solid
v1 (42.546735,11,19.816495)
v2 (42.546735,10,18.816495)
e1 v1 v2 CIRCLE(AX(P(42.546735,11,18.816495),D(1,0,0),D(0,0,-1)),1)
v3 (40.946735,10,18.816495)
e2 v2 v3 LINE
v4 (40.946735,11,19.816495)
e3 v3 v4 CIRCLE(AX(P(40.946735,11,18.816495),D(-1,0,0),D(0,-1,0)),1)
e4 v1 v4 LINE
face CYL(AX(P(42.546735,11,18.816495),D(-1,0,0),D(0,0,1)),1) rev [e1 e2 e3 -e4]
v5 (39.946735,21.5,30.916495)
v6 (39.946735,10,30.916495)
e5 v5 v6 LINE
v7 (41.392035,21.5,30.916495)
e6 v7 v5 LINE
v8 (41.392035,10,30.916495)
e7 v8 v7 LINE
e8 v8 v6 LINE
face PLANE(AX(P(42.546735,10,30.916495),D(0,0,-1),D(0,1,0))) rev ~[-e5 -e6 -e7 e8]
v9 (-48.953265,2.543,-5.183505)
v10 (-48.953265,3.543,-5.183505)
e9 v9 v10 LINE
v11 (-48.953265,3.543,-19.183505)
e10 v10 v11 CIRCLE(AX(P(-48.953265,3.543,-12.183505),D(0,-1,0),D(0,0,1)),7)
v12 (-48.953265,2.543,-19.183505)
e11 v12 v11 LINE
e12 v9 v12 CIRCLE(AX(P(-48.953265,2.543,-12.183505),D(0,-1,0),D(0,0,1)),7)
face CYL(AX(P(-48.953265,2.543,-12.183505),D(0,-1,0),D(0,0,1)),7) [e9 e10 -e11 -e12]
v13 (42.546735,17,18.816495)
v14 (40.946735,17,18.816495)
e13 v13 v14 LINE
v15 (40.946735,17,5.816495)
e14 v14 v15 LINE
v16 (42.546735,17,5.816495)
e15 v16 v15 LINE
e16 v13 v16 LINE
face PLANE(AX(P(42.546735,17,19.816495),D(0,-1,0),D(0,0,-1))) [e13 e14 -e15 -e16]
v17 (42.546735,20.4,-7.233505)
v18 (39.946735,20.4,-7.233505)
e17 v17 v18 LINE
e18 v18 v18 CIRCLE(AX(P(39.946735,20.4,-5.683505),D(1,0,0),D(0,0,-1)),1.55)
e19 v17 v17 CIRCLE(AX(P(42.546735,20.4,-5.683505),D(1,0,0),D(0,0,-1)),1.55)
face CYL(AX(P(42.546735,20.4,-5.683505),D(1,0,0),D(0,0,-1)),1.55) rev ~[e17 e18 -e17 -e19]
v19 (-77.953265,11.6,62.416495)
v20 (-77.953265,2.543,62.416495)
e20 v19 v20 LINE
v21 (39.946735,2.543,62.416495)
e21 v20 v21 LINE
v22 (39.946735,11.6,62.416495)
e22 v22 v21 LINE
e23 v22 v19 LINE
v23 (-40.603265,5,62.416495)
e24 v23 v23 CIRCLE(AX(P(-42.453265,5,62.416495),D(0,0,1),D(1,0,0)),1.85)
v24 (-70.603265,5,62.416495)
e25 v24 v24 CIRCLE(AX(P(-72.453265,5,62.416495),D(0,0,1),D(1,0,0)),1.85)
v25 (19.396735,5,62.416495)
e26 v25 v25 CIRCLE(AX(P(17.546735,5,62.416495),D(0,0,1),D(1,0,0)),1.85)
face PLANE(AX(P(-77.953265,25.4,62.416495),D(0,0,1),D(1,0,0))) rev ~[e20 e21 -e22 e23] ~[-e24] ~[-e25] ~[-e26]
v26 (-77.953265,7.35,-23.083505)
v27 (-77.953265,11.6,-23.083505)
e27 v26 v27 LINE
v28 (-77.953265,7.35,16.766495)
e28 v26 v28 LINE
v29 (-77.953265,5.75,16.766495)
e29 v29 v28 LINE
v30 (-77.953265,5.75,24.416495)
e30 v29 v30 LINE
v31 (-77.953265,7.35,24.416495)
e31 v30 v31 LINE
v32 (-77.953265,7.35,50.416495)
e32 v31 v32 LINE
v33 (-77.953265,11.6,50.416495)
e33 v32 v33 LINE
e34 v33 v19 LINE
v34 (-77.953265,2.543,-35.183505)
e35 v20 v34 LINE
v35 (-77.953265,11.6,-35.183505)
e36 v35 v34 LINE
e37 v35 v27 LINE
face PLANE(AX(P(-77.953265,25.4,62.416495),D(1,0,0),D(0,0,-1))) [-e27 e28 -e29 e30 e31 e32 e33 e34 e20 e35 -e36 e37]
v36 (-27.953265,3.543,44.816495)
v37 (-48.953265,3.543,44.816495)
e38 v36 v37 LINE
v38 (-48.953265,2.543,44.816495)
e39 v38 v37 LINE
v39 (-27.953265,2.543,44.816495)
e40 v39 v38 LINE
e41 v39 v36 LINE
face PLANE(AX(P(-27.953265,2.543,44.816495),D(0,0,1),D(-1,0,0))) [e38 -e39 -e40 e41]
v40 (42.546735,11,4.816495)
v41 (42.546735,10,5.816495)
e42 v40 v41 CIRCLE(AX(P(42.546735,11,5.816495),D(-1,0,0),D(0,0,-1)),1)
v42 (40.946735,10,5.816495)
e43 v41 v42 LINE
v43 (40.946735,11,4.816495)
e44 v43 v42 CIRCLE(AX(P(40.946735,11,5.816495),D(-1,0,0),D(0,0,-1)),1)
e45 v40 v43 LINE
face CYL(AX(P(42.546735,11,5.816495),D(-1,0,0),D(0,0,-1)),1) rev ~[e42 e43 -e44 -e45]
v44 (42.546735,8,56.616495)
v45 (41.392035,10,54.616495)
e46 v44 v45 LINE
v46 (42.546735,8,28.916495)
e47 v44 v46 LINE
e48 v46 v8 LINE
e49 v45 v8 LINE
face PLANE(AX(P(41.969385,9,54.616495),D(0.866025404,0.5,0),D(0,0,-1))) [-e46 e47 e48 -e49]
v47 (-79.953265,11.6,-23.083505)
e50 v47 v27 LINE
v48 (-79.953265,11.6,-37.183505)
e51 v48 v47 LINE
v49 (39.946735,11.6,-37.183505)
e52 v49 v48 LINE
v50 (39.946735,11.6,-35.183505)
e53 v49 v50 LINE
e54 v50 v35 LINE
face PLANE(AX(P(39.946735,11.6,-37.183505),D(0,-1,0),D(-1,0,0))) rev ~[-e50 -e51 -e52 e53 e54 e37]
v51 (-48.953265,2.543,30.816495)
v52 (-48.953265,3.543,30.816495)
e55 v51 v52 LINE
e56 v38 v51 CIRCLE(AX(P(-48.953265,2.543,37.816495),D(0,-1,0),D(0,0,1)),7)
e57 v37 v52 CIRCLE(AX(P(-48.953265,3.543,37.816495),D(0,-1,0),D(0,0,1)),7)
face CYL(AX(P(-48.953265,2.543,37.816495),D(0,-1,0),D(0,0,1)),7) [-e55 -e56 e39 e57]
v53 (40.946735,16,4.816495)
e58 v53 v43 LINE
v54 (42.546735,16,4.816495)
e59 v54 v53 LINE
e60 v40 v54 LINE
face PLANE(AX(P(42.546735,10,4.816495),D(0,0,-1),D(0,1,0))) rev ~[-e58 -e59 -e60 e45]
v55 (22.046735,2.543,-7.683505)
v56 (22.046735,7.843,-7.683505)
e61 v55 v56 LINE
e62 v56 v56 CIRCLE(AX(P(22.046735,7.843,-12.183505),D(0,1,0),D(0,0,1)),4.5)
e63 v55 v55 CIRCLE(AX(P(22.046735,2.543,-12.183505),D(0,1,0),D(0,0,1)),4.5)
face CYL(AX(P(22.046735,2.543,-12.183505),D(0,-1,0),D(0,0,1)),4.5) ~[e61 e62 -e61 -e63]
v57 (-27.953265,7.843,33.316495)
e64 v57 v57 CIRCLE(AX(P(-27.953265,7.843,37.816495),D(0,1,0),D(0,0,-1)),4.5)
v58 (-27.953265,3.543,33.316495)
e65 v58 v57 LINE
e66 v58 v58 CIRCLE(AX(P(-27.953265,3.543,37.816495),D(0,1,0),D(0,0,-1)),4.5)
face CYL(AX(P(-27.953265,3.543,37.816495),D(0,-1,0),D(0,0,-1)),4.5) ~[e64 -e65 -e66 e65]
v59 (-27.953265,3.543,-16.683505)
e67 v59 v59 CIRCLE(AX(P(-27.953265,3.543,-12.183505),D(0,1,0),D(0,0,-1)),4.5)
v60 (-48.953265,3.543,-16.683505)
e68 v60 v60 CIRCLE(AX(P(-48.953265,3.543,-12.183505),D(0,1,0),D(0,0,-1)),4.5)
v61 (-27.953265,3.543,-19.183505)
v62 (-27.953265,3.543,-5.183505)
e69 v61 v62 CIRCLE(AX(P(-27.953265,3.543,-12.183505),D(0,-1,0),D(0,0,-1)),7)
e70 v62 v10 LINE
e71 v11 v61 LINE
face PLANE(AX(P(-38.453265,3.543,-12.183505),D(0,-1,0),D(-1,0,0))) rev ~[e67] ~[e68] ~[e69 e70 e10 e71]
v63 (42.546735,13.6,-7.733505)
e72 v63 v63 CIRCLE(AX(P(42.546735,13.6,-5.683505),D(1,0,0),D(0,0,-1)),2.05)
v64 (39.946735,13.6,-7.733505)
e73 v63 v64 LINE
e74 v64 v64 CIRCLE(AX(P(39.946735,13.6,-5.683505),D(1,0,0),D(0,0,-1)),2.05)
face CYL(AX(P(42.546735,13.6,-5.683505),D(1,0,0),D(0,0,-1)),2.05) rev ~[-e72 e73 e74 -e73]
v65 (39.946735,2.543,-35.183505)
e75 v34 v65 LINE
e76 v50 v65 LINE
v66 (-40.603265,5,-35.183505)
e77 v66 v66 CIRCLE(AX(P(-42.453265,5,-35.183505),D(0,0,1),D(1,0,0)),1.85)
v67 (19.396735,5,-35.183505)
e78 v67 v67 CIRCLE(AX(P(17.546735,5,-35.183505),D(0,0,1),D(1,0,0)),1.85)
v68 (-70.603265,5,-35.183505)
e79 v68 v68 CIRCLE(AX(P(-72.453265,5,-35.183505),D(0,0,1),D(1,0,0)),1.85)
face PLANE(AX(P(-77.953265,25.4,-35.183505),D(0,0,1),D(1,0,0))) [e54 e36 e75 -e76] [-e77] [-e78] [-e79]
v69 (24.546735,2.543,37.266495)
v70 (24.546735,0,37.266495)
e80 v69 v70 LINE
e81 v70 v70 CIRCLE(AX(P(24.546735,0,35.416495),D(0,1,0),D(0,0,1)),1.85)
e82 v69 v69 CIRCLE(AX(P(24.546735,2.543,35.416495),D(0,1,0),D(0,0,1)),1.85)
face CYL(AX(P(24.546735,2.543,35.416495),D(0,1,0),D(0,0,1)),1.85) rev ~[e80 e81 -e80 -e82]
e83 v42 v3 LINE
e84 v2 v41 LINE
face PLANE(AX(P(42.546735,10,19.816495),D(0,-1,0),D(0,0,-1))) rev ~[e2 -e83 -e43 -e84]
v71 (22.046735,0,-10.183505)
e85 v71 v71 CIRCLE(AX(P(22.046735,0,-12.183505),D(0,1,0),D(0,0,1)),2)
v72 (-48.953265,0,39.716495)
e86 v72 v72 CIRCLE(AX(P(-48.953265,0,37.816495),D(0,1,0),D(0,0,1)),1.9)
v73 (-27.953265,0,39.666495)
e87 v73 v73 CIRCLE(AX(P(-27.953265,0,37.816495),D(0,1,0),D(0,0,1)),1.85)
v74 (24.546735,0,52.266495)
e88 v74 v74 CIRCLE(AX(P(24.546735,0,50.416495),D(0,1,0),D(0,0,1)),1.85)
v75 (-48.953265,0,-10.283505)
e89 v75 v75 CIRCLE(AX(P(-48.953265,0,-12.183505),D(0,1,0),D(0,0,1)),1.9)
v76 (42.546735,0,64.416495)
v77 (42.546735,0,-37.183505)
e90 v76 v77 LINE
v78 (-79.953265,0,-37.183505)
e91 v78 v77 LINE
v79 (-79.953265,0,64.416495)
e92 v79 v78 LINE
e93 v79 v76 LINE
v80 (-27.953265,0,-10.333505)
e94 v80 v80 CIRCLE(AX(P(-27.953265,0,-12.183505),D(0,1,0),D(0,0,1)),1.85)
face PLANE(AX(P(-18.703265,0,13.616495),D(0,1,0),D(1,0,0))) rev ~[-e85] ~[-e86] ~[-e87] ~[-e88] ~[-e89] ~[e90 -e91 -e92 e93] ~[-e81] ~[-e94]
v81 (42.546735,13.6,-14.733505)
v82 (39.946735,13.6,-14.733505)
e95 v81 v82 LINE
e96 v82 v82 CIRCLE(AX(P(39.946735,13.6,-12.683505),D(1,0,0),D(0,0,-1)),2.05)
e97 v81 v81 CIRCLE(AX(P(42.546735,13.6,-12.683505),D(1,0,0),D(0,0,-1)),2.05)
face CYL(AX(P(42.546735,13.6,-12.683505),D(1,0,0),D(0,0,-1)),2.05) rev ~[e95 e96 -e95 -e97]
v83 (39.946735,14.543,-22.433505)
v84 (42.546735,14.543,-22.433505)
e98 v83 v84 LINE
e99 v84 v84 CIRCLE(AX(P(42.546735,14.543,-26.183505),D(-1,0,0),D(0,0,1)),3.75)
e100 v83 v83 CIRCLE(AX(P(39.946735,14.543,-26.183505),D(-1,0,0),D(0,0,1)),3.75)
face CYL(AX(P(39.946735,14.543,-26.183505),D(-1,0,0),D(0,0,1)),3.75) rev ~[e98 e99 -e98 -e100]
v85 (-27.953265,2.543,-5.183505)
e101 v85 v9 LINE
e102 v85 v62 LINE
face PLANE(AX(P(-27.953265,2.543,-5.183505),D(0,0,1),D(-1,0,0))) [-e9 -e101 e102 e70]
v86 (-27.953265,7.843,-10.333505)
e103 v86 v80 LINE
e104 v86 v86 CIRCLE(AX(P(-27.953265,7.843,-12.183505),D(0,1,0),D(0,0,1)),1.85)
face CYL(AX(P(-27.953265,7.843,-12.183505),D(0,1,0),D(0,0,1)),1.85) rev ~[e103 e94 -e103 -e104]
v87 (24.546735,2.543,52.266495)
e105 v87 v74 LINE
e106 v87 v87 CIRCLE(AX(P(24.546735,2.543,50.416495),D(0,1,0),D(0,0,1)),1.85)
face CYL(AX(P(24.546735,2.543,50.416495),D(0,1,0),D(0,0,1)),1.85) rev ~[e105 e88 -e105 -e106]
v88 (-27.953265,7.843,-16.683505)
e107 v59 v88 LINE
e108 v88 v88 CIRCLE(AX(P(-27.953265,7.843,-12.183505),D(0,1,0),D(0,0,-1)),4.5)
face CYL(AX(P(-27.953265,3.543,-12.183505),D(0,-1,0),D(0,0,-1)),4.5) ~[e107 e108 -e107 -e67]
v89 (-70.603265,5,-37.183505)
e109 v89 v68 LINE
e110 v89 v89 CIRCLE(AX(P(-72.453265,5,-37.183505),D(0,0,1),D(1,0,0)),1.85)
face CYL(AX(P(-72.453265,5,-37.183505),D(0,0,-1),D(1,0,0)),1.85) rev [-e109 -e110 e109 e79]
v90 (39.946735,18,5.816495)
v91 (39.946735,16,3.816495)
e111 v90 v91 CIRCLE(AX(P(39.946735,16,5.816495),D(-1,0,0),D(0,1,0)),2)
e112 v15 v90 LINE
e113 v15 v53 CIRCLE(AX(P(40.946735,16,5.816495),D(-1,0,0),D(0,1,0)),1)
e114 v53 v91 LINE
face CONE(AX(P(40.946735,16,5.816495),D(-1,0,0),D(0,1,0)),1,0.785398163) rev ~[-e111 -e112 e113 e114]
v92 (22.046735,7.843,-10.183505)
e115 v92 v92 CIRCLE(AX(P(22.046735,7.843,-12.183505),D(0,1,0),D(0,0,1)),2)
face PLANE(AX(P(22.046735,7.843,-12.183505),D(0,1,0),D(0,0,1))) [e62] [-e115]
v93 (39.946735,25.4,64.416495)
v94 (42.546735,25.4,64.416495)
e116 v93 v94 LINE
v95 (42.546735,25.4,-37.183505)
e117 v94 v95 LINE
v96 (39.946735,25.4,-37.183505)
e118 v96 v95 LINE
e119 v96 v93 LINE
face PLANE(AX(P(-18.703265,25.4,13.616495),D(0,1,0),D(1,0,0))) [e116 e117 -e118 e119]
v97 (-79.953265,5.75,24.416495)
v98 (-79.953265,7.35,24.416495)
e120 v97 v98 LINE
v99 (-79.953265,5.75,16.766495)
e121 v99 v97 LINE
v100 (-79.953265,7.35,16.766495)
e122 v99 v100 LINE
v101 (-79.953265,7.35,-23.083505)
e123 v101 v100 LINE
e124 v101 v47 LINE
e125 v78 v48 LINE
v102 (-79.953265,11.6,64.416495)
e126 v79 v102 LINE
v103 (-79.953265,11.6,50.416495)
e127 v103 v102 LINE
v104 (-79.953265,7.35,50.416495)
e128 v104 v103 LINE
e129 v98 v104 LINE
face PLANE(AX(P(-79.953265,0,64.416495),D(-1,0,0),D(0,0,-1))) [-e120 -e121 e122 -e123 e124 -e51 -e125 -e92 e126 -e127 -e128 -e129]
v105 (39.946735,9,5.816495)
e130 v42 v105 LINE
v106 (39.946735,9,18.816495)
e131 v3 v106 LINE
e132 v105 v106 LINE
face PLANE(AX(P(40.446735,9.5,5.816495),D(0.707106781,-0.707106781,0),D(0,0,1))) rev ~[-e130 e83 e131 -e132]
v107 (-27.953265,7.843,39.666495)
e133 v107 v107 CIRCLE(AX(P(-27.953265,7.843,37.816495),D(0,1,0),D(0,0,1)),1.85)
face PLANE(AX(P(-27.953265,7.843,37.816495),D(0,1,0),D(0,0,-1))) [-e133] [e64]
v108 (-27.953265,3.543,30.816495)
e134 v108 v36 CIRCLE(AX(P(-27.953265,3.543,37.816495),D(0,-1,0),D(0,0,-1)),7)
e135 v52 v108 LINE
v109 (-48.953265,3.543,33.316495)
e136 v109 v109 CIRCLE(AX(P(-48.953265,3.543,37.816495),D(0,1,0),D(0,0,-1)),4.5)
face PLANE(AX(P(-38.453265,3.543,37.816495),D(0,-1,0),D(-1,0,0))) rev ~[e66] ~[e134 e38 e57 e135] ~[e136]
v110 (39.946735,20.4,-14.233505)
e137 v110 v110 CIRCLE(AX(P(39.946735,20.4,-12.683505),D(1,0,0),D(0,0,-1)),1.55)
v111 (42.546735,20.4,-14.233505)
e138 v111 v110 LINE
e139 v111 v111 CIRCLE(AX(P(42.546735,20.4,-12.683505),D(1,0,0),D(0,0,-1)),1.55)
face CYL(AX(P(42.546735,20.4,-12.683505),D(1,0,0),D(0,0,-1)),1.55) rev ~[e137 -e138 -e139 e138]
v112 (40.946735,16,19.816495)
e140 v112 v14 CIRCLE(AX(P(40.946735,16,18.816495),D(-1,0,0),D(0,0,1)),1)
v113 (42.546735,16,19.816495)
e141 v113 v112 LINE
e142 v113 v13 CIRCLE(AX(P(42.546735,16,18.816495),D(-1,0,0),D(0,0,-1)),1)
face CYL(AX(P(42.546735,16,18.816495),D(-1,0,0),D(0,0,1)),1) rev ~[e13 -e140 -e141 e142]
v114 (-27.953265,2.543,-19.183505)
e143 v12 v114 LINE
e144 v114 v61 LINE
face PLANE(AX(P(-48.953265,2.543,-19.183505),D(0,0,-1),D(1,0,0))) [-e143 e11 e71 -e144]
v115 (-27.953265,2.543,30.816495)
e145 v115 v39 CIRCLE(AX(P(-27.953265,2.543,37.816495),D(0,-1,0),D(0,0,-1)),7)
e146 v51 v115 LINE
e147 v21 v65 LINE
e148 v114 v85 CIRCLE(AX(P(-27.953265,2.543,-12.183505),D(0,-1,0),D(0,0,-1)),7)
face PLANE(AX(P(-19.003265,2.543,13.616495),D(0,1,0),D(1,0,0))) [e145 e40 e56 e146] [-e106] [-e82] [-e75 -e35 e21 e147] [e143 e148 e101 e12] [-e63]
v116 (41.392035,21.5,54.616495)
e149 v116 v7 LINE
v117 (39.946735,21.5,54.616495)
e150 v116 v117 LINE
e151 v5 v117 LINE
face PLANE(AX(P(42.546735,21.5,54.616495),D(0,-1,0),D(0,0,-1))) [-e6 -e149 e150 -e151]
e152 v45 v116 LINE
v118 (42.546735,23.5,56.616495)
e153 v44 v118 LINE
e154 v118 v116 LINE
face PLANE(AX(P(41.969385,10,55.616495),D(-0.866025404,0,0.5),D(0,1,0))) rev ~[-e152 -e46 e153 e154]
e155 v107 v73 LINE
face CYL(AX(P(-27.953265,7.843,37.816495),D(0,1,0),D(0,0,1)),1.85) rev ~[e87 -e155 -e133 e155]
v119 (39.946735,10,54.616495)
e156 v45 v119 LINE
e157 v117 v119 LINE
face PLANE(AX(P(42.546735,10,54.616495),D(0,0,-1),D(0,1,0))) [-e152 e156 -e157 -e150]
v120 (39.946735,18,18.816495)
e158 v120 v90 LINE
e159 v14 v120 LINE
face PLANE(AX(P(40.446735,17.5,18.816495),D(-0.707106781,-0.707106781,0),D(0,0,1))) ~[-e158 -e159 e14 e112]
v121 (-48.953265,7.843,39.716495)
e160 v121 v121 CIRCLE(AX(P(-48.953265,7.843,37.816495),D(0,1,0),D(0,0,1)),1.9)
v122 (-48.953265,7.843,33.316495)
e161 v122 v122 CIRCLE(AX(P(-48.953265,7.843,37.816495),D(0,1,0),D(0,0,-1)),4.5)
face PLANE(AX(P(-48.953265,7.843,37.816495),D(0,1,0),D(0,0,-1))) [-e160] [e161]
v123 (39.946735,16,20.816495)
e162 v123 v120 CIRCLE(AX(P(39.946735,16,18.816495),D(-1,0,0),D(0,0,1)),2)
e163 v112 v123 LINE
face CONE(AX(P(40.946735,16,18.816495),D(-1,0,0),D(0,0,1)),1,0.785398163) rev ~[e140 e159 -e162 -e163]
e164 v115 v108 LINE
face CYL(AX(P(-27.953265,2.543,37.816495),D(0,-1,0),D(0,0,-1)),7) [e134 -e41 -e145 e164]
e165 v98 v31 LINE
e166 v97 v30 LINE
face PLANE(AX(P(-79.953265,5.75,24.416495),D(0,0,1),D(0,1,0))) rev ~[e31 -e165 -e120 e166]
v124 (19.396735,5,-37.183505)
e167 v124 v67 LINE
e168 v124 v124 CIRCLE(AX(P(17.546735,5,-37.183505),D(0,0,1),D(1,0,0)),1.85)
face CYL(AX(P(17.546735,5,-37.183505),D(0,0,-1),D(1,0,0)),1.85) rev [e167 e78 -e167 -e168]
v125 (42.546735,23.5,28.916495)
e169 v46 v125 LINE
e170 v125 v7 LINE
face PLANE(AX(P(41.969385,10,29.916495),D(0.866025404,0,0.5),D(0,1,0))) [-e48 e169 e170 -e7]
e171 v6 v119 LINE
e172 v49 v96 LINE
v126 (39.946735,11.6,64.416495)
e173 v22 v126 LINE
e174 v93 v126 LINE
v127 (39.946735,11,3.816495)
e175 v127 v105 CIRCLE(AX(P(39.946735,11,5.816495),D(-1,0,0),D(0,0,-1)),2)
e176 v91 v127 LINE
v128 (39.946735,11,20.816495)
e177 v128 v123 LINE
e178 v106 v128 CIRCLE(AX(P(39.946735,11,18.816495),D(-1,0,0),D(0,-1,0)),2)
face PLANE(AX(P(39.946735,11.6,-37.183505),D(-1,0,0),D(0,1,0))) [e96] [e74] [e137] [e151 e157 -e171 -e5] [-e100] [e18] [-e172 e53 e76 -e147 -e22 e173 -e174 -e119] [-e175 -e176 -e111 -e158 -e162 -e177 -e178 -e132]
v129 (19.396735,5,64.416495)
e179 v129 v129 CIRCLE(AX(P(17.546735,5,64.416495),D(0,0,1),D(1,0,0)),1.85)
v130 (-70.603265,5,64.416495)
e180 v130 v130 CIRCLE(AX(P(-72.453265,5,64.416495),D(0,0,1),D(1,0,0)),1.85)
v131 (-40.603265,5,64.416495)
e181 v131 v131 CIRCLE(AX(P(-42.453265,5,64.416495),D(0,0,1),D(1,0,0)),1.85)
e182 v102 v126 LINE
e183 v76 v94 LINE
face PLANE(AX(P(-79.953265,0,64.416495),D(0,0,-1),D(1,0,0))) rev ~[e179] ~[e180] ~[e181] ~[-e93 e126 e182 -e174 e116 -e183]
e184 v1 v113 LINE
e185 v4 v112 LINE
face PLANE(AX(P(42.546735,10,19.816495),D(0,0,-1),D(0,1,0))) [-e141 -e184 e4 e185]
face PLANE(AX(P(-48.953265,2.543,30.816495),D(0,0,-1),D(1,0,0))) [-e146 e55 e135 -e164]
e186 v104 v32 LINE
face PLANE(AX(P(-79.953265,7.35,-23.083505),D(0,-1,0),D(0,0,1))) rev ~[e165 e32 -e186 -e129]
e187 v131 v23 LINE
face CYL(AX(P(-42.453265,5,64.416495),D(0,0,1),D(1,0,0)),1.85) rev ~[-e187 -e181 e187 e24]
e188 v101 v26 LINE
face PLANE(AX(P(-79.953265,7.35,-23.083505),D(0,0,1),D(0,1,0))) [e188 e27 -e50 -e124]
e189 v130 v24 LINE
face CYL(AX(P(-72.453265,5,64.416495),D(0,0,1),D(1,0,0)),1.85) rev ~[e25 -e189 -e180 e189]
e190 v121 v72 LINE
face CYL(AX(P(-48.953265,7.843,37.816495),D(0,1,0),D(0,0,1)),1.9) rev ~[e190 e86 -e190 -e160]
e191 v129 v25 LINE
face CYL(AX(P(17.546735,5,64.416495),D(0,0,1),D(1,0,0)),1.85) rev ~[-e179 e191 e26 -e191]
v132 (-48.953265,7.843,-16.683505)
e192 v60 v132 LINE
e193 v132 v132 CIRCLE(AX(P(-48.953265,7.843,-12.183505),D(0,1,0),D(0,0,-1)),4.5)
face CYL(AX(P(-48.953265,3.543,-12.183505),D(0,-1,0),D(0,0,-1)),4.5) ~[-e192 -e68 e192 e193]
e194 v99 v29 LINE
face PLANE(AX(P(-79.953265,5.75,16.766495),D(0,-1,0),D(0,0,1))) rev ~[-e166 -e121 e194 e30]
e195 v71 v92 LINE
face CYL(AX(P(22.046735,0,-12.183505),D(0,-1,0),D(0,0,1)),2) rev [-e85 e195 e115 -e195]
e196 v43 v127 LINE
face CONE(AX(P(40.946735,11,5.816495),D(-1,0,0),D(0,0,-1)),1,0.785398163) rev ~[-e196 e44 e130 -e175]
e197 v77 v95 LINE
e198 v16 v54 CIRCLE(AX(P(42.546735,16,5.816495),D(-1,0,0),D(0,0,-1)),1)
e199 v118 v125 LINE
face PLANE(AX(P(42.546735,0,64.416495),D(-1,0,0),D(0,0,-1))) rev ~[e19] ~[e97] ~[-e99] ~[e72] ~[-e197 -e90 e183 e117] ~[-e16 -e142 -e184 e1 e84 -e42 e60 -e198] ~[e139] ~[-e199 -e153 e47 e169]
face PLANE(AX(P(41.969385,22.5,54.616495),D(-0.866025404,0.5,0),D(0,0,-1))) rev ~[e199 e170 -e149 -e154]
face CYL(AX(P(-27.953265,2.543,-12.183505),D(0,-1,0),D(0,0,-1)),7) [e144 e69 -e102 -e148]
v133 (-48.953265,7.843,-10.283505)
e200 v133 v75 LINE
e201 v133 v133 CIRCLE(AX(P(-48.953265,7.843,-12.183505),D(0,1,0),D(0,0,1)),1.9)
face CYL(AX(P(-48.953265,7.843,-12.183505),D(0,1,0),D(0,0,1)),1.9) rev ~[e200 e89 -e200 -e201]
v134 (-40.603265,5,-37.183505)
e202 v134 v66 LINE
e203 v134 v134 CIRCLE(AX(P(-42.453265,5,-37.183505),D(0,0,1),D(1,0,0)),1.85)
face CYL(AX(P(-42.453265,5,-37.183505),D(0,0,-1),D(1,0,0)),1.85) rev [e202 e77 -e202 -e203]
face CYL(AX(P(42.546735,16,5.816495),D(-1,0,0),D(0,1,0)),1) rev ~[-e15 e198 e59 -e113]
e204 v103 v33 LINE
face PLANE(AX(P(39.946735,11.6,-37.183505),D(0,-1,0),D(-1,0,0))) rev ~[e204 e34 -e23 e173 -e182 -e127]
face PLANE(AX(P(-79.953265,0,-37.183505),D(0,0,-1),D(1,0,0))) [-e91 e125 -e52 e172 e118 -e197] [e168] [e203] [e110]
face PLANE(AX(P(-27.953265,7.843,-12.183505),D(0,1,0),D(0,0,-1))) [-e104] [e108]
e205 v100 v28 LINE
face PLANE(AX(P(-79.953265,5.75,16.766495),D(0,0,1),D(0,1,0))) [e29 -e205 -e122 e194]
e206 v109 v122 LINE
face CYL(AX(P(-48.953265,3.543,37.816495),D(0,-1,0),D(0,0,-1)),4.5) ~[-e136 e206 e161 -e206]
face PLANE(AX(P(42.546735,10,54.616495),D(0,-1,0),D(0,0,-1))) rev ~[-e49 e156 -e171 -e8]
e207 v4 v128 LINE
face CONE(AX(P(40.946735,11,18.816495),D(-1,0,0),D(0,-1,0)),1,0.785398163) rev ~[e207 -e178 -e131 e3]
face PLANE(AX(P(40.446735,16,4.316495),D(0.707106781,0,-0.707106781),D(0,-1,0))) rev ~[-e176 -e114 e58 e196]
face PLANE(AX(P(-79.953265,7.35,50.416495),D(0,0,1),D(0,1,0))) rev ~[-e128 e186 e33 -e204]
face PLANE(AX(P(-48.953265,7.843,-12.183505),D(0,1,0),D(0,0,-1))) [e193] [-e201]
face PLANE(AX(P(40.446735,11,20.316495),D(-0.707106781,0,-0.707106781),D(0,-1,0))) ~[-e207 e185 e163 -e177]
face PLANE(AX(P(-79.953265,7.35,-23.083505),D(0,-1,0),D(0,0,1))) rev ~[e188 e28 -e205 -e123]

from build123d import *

# Parameters (mm, degrees)
SKETCH_1_W             = 122.5
SKETCH_1_H             = 101.6
EXTRUDE_1_DEPTH        = 25.4
SKETCH_2_W             = 117.9
SKETCH_2_H             = 97.6
CUT_EXTRUDE_1_DEPTH    = 22.857
CUT_EXTRUDE_2_REACH    = 133.758
SKETCH_5_W             = 119.9
SKETCH_5_H             = 13.8
CUT_EXTRUDE_3_REACH    = 142.716
SKETCH_6_W             = 73.5
SKETCH_6_H             = 4.25
CUT_EXTRUDE_4_REACH    = 142.716
SKETCH_7_W             = 7.65
SKETCH_7_H             = 1.6
CUT_EXTRUDE_5_REACH    = 133.758
SKETCH_8_R             = 1.85
EXTRUDE_2_DEPTH        = 1
SKETCH_11_R            = 4.5
EXTRUDE_3_DEPTH        = 4.3
CUT_EXTRUDE_6_REACH    = 106.165
SKETCH_13_R            = 1.85
SKETCH_14_R            = 4.5
SKETCH_14_R_2          = 2
EXTRUDE_5_DEPTH        = 5.3
SKETCH_15_R            = 1.55
SKETCH_15_R_2          = 2.05
CUT_EXTRUDE_7_DEPTH    = 5.3
SKETCH_16_W            = 15
SKETCH_16_H            = 7
CUT_EXTRUDE_8_DEPTH    = 5.3
FILLET_1_R             = 1
SKETCH_17_W            = 23.7
SKETCH_17_H            = 11.5
CUT_EXTRUDE_9_DEPTH    = 5.3
CHAMFER_2_SIZE         = 2
CHAMFER_2_SIZE2        = 1.154700538
SKETCH_12_R            = 1.9
CUT_EXTRUDE_10_DEPTH   = 7.843
CUT_EXTRUDE_START      = -2.543
SKETCH_18_R            = 2
CUT_EXTRUDE_11_DEPTH   = 2.543
SKETCH_19_R            = 3.75
CUT_EXTRUDE_12_DEPTH   = 10
PATTERN_LINEAR_1_COUNT = 2
PATTERN_LINEAR_1_PITCH = 50
SKETCH_30_R            = 1.85
CUT_EXTRUDE_17_DEPTH   = 10
CHAMFER_3_SIZE         = 1


with BuildPart() as part:
    # 草图1 → 凸台-拉伸1 (new body)
    with BuildSketch(Plane(origin=(0, 0, 0), x_dir=(1, 0, 0), z_dir=(0, 1, 0))):
        with Locations((-18.703264605, -13.616494845)):
            Rectangle(SKETCH_1_W, SKETCH_1_H)
    extrude(amount=EXTRUDE_1_DEPTH)

    # 草图2 → 切除-拉伸1 (cut)
    with BuildSketch(Plane(origin=(0, 25.4, 0), x_dir=(1, 0, 0), z_dir=(0, 1, 0))):
        with Locations((-19.003264605, -13.616494845)):
            Rectangle(SKETCH_2_W, SKETCH_2_H)
    extrude(amount=-CUT_EXTRUDE_1_DEPTH, mode=Mode.SUBTRACT)

    # 草图5 → 切除-拉伸2 (cut, up to next)
    with BuildSketch(Plane(origin=(0, 0, -37.183505155), x_dir=(-1, 0, 0), z_dir=(0, 0, -1)), mode=Mode.PRIVATE) as cut_extrude_2_sk1:
        with Locations((20.003264605, 18.5)):
            Rectangle(SKETCH_5_W, SKETCH_5_H)
    cut_extrude_2_tool1 = extrude(cut_extrude_2_sk1.sketch, amount=-CUT_EXTRUDE_2_REACH, mode=Mode.PRIVATE) & part.part
    add(cut_extrude_2_tool1.solids().sort_by_distance((-20.003265, 18.5, -37.183505))[0], mode=Mode.SUBTRACT)

    # 草图6 → 切除-拉伸3 (cut, up to next)
    with BuildSketch(Plane.ZY.offset(79.953264605), mode=Mode.PRIVATE) as cut_extrude_3_sk1:
        with Locations((13.666494845, 9.475)):
            Rectangle(SKETCH_6_W, SKETCH_6_H)
    cut_extrude_3_tool1 = extrude(cut_extrude_3_sk1.sketch, amount=-CUT_EXTRUDE_3_REACH, mode=Mode.PRIVATE) & part.part
    add(cut_extrude_3_tool1.solids().sort_by_distance((-79.953265, 9.475, 13.666495))[0], mode=Mode.SUBTRACT)

    # 草图7 → 切除-拉伸4 (cut, up to next)
    with BuildSketch(Plane.ZY.offset(79.953264605), mode=Mode.PRIVATE) as cut_extrude_4_sk1:
        with Locations((20.591494845, 6.55)):
            Rectangle(SKETCH_7_W, SKETCH_7_H)
    cut_extrude_4_tool1 = extrude(cut_extrude_4_sk1.sketch, amount=-CUT_EXTRUDE_4_REACH, mode=Mode.PRIVATE) & part.part
    add(cut_extrude_4_tool1.solids().sort_by_distance((-79.953265, 6.55, 20.591495))[0], mode=Mode.SUBTRACT)

    # 草图8 → 切除-拉伸5 (cut, up to next)
    with BuildSketch(Plane.XY.offset(64.416494845), mode=Mode.PRIVATE) as cut_extrude_5_sk1:
        with Locations((17.546735395, 5)):
            Circle(SKETCH_8_R)
    cut_extrude_5_tool1 = extrude(cut_extrude_5_sk1.sketch, amount=-CUT_EXTRUDE_5_REACH, mode=Mode.PRIVATE) & part.part
    # 草图8 → 切除-拉伸5 (cut, up to next)
    with BuildSketch(Plane.XY.offset(64.416494845), mode=Mode.PRIVATE) as cut_extrude_5_sk2:
        with Locations((-42.453264605, 5)):
            Circle(SKETCH_8_R)
    cut_extrude_5_tool2 = extrude(cut_extrude_5_sk2.sketch, amount=-CUT_EXTRUDE_5_REACH, mode=Mode.PRIVATE) & part.part
    # 草图8 → 切除-拉伸5 (cut, up to next)
    with BuildSketch(Plane.XY.offset(64.416494845), mode=Mode.PRIVATE) as cut_extrude_5_sk3:
        with Locations((-72.453264605, 5)):
            Circle(SKETCH_8_R)
    cut_extrude_5_tool3 = extrude(cut_extrude_5_sk3.sketch, amount=-CUT_EXTRUDE_5_REACH, mode=Mode.PRIVATE) & part.part
    cut_extrude_5_1 = cut_extrude_5_tool1.solids().sort_by_distance((17.546735, 5, 64.416495))[0]
    add(cut_extrude_5_1, mode=Mode.SUBTRACT)
    cut_extrude_5_2 = cut_extrude_5_tool2.solids().sort_by_distance((-42.453265, 5, 64.416495))[0]
    add(cut_extrude_5_2, mode=Mode.SUBTRACT)
    cut_extrude_5_3 = cut_extrude_5_tool3.solids().sort_by_distance((-72.453265, 5, 64.416495))[0]
    add(cut_extrude_5_3, mode=Mode.SUBTRACT)
    cut_extrude_5 = cut_extrude_5_1 + cut_extrude_5_2 + cut_extrude_5_3  # 切除-拉伸5 as one shape, for the pattern or mirror that repeats it

    # 镜向1: 切除-拉伸5 across plane
    add(cut_extrude_5.mirror(Plane.XY.offset(13.616494845)), mode=Mode.SUBTRACT)

    # 草图10 → 凸台-拉伸2 (add)
    with BuildSketch(Plane(origin=(0, 2.543, 0), x_dir=(1, 0, 0), z_dir=(0, 1, 0))):
        with BuildLine():
            Line((-48.953264605, 19.183505155), (-27.953264605, 19.183505155))
            ThreePointArc((-27.953264605, 19.183505155), (-20.953264605, 12.183505155), (-27.953264605, 5.183505155))
            Line((-27.953264605, 5.183505155), (-48.953264605, 5.183505155))
            ThreePointArc((-48.953264605, 5.183505155), (-55.953264605, 12.183505155), (-48.953264605, 19.183505155))
        make_face()
    extrude_2 = extrude(amount=EXTRUDE_2_DEPTH)

    # 草图11 → 凸台-拉伸3 (add)
    with BuildSketch(Plane(origin=(0, 3.543, 0), x_dir=(1, 0, 0), z_dir=(0, 1, 0))):
        with Locations(Location((-48.953264605, 12.183505155, 0), (0, 0, 90))):
            Circle(SKETCH_11_R)
        with Locations(Location((-27.953264605, 12.183505155, 0), (0, 0, 90))):
            Circle(SKETCH_11_R)
    extrude_3 = extrude(amount=EXTRUDE_3_DEPTH)

    # 草图13 → 切除-拉伸6 (cut, up to next)
    with BuildSketch(Plane(origin=(0, 7.843, 0), x_dir=(1, 0, 0), z_dir=(0, 1, 0)), mode=Mode.PRIVATE) as cut_extrude_6_sk1:
        with Locations(Location((-27.953264605, 12.183505155, 0), (0, 0, 270))):
            Circle(SKETCH_13_R)
    cut_extrude_6_tool1 = extrude(cut_extrude_6_sk1.sketch, amount=-CUT_EXTRUDE_6_REACH, mode=Mode.PRIVATE) & part.part
    cut_extrude_6 = cut_extrude_6_tool1.solids().sort_by_distance((-27.953265, 7.843, -12.183505))[0]
    add(cut_extrude_6, mode=Mode.SUBTRACT)

    # 草图14 → 凸台-拉伸5 (add)
    with BuildSketch(Plane(origin=(0, 2.543, 0), x_dir=(1, 0, 0), z_dir=(0, 1, 0))):
        with Locations(Location((22.046735395, 12.183505155, 0), (0, 0, 270))):
            Circle(SKETCH_14_R)
        with Locations(Location((22.046735395, 12.183505155, 0), (0, 0, 270))):
            Circle(SKETCH_14_R_2, mode=Mode.SUBTRACT)
    extrude(amount=EXTRUDE_5_DEPTH)

    # 草图15 → 切除-拉伸7 (cut)
    with BuildSketch(Plane(origin=(42.546735395, 0, 0), x_dir=(0, 0, -1), z_dir=(1, 0, 0))):
        with Locations((12.683505155, 20.4)):
            Circle(SKETCH_15_R)
        with Locations((12.683505155, 13.6)):
            Circle(SKETCH_15_R_2)
        with Locations((5.683505155, 20.4)):
            Circle(SKETCH_15_R)
        with Locations((5.683505155, 13.6)):
            Circle(SKETCH_15_R_2)
    extrude(amount=-CUT_EXTRUDE_7_DEPTH, mode=Mode.SUBTRACT)

    # 草图16 → 切除-拉伸8 (cut)
    with BuildSketch(Plane(origin=(42.546735395, 0, 0), x_dir=(0, 0, -1), z_dir=(1, 0, 0))):
        with Locations((-12.316494845, 13.5)):
            Rectangle(SKETCH_16_W, SKETCH_16_H)
    extrude(amount=-CUT_EXTRUDE_8_DEPTH, mode=Mode.SUBTRACT)

    # 圆角1
    fillet_1_edges = [part.edges().sort_by_distance(p)[0] for p in [
        (41.246735395, 10, 19.816494845),
        (41.246735395, 17, 19.816494845),
        (41.246735395, 17, 4.816494845),
        (41.246735395, 10, 4.816494845),
    ]]
    fillet(fillet_1_edges, radius=FILLET_1_R)

    # 草图17 → 切除-拉伸9 (cut)
    with BuildSketch(Plane(origin=(42.546735395, 0, 0), x_dir=(0, 0, -1), z_dir=(1, 0, 0))):
        with Locations((-42.766494845, 15.75)):
            Rectangle(SKETCH_17_W, SKETCH_17_H)
    extrude(amount=-CUT_EXTRUDE_9_DEPTH, mode=Mode.SUBTRACT)

    # 倒角2
    chamfer_2_edges = [part.edges().sort_by_distance(p)[0] for p in [
        (42.546735395, 15.75, 54.616494845),
        (42.546735395, 10, 42.766494845),
        (42.546735395, 15.75, 30.916494845),
        (42.546735395, 21.5, 42.766494845),
    ]]
    chamfer_2_side = [part.faces().sort_by_distance(p)[0] for p in [
        (42.546735395, 12.7, -36.136236326),
    ]]
    chamfer(chamfer_2_edges, length=CHAMFER_2_SIZE, length2=CHAMFER_2_SIZE2, reference=chamfer_2_side[0])

    # 草图12 → 切除-拉伸10 (cut)
    with BuildSketch(Plane(origin=(0, 7.843, 0), x_dir=(1, 0, 0), z_dir=(0, 1, 0))):
        with Locations(Location((-48.953264605, 12.183505155, 0), (0, 0, 270))):
            Circle(SKETCH_12_R)
    cut_extrude_10 = extrude(amount=-CUT_EXTRUDE_10_DEPTH, mode=Mode.SUBTRACT)

    # 草图18 → 切除-拉伸11 (cut)
    with BuildSketch(Plane(origin=(0, 2.543, 0), x_dir=(1, 0, 0), z_dir=(0, 1, 0)).offset(CUT_EXTRUDE_START)):
        with Locations(Location((22.046735395, 12.183505155, 0), (0, 0, 270))):
            Circle(SKETCH_18_R)
    extrude(amount=CUT_EXTRUDE_11_DEPTH, mode=Mode.SUBTRACT)

    # 草图19 → 切除-拉伸12 (cut)
    with BuildSketch(Plane.ZY.offset(-39.946735395)):
        with Locations((-26.183505155, 14.543)):
            Circle(SKETCH_19_R)
    extrude(amount=-CUT_EXTRUDE_12_DEPTH, mode=Mode.SUBTRACT)

    # 阵列(线性)1: 凸台-拉伸2, 凸台-拉伸3, 切除-拉伸6, 切除-拉伸10 ×2
    with Locations(*[(0, 0, i * PATTERN_LINEAR_1_PITCH) for i in range(1, PATTERN_LINEAR_1_COUNT)]):
        add(extrude_2)
        add(extrude_3)
        add(cut_extrude_6, mode=Mode.SUBTRACT)
        add(cut_extrude_10, mode=Mode.SUBTRACT)

    # 草图30 → 切除-拉伸17 (cut)
    with BuildSketch(Plane(origin=(0, 2.543, 0), x_dir=(1, 0, 0), z_dir=(0, 1, 0))):
        with Locations(Location((24.546735395, -50.416494845, 0), (0, 0, 270))):
            Circle(SKETCH_30_R)
        with Locations(Location((24.546735395, -35.416494845, 0), (0, 0, 270))):
            Circle(SKETCH_30_R)
    extrude(amount=-CUT_EXTRUDE_17_DEPTH, mode=Mode.SUBTRACT)

    # 倒角3
    chamfer_3_edges = [part.edges().sort_by_distance(p)[0] for p in [
        (39.946735395, 13.5, 4.816494845),
        (39.946735395, 10, 12.316494845),
        (39.946735395, 13.5, 19.816494845),
        (39.946735395, 17, 12.316494845),
        (39.946735395, 10.292893219, 5.109388064),
        (39.946735395, 10.292893219, 19.523601627),
        (39.946735395, 16.707106781, 5.109388064),
        (39.946735395, 16.707106781, 19.523601627),
    ]]
    chamfer(chamfer_3_edges, length=CHAMFER_3_SIZE)


solid = part.part
